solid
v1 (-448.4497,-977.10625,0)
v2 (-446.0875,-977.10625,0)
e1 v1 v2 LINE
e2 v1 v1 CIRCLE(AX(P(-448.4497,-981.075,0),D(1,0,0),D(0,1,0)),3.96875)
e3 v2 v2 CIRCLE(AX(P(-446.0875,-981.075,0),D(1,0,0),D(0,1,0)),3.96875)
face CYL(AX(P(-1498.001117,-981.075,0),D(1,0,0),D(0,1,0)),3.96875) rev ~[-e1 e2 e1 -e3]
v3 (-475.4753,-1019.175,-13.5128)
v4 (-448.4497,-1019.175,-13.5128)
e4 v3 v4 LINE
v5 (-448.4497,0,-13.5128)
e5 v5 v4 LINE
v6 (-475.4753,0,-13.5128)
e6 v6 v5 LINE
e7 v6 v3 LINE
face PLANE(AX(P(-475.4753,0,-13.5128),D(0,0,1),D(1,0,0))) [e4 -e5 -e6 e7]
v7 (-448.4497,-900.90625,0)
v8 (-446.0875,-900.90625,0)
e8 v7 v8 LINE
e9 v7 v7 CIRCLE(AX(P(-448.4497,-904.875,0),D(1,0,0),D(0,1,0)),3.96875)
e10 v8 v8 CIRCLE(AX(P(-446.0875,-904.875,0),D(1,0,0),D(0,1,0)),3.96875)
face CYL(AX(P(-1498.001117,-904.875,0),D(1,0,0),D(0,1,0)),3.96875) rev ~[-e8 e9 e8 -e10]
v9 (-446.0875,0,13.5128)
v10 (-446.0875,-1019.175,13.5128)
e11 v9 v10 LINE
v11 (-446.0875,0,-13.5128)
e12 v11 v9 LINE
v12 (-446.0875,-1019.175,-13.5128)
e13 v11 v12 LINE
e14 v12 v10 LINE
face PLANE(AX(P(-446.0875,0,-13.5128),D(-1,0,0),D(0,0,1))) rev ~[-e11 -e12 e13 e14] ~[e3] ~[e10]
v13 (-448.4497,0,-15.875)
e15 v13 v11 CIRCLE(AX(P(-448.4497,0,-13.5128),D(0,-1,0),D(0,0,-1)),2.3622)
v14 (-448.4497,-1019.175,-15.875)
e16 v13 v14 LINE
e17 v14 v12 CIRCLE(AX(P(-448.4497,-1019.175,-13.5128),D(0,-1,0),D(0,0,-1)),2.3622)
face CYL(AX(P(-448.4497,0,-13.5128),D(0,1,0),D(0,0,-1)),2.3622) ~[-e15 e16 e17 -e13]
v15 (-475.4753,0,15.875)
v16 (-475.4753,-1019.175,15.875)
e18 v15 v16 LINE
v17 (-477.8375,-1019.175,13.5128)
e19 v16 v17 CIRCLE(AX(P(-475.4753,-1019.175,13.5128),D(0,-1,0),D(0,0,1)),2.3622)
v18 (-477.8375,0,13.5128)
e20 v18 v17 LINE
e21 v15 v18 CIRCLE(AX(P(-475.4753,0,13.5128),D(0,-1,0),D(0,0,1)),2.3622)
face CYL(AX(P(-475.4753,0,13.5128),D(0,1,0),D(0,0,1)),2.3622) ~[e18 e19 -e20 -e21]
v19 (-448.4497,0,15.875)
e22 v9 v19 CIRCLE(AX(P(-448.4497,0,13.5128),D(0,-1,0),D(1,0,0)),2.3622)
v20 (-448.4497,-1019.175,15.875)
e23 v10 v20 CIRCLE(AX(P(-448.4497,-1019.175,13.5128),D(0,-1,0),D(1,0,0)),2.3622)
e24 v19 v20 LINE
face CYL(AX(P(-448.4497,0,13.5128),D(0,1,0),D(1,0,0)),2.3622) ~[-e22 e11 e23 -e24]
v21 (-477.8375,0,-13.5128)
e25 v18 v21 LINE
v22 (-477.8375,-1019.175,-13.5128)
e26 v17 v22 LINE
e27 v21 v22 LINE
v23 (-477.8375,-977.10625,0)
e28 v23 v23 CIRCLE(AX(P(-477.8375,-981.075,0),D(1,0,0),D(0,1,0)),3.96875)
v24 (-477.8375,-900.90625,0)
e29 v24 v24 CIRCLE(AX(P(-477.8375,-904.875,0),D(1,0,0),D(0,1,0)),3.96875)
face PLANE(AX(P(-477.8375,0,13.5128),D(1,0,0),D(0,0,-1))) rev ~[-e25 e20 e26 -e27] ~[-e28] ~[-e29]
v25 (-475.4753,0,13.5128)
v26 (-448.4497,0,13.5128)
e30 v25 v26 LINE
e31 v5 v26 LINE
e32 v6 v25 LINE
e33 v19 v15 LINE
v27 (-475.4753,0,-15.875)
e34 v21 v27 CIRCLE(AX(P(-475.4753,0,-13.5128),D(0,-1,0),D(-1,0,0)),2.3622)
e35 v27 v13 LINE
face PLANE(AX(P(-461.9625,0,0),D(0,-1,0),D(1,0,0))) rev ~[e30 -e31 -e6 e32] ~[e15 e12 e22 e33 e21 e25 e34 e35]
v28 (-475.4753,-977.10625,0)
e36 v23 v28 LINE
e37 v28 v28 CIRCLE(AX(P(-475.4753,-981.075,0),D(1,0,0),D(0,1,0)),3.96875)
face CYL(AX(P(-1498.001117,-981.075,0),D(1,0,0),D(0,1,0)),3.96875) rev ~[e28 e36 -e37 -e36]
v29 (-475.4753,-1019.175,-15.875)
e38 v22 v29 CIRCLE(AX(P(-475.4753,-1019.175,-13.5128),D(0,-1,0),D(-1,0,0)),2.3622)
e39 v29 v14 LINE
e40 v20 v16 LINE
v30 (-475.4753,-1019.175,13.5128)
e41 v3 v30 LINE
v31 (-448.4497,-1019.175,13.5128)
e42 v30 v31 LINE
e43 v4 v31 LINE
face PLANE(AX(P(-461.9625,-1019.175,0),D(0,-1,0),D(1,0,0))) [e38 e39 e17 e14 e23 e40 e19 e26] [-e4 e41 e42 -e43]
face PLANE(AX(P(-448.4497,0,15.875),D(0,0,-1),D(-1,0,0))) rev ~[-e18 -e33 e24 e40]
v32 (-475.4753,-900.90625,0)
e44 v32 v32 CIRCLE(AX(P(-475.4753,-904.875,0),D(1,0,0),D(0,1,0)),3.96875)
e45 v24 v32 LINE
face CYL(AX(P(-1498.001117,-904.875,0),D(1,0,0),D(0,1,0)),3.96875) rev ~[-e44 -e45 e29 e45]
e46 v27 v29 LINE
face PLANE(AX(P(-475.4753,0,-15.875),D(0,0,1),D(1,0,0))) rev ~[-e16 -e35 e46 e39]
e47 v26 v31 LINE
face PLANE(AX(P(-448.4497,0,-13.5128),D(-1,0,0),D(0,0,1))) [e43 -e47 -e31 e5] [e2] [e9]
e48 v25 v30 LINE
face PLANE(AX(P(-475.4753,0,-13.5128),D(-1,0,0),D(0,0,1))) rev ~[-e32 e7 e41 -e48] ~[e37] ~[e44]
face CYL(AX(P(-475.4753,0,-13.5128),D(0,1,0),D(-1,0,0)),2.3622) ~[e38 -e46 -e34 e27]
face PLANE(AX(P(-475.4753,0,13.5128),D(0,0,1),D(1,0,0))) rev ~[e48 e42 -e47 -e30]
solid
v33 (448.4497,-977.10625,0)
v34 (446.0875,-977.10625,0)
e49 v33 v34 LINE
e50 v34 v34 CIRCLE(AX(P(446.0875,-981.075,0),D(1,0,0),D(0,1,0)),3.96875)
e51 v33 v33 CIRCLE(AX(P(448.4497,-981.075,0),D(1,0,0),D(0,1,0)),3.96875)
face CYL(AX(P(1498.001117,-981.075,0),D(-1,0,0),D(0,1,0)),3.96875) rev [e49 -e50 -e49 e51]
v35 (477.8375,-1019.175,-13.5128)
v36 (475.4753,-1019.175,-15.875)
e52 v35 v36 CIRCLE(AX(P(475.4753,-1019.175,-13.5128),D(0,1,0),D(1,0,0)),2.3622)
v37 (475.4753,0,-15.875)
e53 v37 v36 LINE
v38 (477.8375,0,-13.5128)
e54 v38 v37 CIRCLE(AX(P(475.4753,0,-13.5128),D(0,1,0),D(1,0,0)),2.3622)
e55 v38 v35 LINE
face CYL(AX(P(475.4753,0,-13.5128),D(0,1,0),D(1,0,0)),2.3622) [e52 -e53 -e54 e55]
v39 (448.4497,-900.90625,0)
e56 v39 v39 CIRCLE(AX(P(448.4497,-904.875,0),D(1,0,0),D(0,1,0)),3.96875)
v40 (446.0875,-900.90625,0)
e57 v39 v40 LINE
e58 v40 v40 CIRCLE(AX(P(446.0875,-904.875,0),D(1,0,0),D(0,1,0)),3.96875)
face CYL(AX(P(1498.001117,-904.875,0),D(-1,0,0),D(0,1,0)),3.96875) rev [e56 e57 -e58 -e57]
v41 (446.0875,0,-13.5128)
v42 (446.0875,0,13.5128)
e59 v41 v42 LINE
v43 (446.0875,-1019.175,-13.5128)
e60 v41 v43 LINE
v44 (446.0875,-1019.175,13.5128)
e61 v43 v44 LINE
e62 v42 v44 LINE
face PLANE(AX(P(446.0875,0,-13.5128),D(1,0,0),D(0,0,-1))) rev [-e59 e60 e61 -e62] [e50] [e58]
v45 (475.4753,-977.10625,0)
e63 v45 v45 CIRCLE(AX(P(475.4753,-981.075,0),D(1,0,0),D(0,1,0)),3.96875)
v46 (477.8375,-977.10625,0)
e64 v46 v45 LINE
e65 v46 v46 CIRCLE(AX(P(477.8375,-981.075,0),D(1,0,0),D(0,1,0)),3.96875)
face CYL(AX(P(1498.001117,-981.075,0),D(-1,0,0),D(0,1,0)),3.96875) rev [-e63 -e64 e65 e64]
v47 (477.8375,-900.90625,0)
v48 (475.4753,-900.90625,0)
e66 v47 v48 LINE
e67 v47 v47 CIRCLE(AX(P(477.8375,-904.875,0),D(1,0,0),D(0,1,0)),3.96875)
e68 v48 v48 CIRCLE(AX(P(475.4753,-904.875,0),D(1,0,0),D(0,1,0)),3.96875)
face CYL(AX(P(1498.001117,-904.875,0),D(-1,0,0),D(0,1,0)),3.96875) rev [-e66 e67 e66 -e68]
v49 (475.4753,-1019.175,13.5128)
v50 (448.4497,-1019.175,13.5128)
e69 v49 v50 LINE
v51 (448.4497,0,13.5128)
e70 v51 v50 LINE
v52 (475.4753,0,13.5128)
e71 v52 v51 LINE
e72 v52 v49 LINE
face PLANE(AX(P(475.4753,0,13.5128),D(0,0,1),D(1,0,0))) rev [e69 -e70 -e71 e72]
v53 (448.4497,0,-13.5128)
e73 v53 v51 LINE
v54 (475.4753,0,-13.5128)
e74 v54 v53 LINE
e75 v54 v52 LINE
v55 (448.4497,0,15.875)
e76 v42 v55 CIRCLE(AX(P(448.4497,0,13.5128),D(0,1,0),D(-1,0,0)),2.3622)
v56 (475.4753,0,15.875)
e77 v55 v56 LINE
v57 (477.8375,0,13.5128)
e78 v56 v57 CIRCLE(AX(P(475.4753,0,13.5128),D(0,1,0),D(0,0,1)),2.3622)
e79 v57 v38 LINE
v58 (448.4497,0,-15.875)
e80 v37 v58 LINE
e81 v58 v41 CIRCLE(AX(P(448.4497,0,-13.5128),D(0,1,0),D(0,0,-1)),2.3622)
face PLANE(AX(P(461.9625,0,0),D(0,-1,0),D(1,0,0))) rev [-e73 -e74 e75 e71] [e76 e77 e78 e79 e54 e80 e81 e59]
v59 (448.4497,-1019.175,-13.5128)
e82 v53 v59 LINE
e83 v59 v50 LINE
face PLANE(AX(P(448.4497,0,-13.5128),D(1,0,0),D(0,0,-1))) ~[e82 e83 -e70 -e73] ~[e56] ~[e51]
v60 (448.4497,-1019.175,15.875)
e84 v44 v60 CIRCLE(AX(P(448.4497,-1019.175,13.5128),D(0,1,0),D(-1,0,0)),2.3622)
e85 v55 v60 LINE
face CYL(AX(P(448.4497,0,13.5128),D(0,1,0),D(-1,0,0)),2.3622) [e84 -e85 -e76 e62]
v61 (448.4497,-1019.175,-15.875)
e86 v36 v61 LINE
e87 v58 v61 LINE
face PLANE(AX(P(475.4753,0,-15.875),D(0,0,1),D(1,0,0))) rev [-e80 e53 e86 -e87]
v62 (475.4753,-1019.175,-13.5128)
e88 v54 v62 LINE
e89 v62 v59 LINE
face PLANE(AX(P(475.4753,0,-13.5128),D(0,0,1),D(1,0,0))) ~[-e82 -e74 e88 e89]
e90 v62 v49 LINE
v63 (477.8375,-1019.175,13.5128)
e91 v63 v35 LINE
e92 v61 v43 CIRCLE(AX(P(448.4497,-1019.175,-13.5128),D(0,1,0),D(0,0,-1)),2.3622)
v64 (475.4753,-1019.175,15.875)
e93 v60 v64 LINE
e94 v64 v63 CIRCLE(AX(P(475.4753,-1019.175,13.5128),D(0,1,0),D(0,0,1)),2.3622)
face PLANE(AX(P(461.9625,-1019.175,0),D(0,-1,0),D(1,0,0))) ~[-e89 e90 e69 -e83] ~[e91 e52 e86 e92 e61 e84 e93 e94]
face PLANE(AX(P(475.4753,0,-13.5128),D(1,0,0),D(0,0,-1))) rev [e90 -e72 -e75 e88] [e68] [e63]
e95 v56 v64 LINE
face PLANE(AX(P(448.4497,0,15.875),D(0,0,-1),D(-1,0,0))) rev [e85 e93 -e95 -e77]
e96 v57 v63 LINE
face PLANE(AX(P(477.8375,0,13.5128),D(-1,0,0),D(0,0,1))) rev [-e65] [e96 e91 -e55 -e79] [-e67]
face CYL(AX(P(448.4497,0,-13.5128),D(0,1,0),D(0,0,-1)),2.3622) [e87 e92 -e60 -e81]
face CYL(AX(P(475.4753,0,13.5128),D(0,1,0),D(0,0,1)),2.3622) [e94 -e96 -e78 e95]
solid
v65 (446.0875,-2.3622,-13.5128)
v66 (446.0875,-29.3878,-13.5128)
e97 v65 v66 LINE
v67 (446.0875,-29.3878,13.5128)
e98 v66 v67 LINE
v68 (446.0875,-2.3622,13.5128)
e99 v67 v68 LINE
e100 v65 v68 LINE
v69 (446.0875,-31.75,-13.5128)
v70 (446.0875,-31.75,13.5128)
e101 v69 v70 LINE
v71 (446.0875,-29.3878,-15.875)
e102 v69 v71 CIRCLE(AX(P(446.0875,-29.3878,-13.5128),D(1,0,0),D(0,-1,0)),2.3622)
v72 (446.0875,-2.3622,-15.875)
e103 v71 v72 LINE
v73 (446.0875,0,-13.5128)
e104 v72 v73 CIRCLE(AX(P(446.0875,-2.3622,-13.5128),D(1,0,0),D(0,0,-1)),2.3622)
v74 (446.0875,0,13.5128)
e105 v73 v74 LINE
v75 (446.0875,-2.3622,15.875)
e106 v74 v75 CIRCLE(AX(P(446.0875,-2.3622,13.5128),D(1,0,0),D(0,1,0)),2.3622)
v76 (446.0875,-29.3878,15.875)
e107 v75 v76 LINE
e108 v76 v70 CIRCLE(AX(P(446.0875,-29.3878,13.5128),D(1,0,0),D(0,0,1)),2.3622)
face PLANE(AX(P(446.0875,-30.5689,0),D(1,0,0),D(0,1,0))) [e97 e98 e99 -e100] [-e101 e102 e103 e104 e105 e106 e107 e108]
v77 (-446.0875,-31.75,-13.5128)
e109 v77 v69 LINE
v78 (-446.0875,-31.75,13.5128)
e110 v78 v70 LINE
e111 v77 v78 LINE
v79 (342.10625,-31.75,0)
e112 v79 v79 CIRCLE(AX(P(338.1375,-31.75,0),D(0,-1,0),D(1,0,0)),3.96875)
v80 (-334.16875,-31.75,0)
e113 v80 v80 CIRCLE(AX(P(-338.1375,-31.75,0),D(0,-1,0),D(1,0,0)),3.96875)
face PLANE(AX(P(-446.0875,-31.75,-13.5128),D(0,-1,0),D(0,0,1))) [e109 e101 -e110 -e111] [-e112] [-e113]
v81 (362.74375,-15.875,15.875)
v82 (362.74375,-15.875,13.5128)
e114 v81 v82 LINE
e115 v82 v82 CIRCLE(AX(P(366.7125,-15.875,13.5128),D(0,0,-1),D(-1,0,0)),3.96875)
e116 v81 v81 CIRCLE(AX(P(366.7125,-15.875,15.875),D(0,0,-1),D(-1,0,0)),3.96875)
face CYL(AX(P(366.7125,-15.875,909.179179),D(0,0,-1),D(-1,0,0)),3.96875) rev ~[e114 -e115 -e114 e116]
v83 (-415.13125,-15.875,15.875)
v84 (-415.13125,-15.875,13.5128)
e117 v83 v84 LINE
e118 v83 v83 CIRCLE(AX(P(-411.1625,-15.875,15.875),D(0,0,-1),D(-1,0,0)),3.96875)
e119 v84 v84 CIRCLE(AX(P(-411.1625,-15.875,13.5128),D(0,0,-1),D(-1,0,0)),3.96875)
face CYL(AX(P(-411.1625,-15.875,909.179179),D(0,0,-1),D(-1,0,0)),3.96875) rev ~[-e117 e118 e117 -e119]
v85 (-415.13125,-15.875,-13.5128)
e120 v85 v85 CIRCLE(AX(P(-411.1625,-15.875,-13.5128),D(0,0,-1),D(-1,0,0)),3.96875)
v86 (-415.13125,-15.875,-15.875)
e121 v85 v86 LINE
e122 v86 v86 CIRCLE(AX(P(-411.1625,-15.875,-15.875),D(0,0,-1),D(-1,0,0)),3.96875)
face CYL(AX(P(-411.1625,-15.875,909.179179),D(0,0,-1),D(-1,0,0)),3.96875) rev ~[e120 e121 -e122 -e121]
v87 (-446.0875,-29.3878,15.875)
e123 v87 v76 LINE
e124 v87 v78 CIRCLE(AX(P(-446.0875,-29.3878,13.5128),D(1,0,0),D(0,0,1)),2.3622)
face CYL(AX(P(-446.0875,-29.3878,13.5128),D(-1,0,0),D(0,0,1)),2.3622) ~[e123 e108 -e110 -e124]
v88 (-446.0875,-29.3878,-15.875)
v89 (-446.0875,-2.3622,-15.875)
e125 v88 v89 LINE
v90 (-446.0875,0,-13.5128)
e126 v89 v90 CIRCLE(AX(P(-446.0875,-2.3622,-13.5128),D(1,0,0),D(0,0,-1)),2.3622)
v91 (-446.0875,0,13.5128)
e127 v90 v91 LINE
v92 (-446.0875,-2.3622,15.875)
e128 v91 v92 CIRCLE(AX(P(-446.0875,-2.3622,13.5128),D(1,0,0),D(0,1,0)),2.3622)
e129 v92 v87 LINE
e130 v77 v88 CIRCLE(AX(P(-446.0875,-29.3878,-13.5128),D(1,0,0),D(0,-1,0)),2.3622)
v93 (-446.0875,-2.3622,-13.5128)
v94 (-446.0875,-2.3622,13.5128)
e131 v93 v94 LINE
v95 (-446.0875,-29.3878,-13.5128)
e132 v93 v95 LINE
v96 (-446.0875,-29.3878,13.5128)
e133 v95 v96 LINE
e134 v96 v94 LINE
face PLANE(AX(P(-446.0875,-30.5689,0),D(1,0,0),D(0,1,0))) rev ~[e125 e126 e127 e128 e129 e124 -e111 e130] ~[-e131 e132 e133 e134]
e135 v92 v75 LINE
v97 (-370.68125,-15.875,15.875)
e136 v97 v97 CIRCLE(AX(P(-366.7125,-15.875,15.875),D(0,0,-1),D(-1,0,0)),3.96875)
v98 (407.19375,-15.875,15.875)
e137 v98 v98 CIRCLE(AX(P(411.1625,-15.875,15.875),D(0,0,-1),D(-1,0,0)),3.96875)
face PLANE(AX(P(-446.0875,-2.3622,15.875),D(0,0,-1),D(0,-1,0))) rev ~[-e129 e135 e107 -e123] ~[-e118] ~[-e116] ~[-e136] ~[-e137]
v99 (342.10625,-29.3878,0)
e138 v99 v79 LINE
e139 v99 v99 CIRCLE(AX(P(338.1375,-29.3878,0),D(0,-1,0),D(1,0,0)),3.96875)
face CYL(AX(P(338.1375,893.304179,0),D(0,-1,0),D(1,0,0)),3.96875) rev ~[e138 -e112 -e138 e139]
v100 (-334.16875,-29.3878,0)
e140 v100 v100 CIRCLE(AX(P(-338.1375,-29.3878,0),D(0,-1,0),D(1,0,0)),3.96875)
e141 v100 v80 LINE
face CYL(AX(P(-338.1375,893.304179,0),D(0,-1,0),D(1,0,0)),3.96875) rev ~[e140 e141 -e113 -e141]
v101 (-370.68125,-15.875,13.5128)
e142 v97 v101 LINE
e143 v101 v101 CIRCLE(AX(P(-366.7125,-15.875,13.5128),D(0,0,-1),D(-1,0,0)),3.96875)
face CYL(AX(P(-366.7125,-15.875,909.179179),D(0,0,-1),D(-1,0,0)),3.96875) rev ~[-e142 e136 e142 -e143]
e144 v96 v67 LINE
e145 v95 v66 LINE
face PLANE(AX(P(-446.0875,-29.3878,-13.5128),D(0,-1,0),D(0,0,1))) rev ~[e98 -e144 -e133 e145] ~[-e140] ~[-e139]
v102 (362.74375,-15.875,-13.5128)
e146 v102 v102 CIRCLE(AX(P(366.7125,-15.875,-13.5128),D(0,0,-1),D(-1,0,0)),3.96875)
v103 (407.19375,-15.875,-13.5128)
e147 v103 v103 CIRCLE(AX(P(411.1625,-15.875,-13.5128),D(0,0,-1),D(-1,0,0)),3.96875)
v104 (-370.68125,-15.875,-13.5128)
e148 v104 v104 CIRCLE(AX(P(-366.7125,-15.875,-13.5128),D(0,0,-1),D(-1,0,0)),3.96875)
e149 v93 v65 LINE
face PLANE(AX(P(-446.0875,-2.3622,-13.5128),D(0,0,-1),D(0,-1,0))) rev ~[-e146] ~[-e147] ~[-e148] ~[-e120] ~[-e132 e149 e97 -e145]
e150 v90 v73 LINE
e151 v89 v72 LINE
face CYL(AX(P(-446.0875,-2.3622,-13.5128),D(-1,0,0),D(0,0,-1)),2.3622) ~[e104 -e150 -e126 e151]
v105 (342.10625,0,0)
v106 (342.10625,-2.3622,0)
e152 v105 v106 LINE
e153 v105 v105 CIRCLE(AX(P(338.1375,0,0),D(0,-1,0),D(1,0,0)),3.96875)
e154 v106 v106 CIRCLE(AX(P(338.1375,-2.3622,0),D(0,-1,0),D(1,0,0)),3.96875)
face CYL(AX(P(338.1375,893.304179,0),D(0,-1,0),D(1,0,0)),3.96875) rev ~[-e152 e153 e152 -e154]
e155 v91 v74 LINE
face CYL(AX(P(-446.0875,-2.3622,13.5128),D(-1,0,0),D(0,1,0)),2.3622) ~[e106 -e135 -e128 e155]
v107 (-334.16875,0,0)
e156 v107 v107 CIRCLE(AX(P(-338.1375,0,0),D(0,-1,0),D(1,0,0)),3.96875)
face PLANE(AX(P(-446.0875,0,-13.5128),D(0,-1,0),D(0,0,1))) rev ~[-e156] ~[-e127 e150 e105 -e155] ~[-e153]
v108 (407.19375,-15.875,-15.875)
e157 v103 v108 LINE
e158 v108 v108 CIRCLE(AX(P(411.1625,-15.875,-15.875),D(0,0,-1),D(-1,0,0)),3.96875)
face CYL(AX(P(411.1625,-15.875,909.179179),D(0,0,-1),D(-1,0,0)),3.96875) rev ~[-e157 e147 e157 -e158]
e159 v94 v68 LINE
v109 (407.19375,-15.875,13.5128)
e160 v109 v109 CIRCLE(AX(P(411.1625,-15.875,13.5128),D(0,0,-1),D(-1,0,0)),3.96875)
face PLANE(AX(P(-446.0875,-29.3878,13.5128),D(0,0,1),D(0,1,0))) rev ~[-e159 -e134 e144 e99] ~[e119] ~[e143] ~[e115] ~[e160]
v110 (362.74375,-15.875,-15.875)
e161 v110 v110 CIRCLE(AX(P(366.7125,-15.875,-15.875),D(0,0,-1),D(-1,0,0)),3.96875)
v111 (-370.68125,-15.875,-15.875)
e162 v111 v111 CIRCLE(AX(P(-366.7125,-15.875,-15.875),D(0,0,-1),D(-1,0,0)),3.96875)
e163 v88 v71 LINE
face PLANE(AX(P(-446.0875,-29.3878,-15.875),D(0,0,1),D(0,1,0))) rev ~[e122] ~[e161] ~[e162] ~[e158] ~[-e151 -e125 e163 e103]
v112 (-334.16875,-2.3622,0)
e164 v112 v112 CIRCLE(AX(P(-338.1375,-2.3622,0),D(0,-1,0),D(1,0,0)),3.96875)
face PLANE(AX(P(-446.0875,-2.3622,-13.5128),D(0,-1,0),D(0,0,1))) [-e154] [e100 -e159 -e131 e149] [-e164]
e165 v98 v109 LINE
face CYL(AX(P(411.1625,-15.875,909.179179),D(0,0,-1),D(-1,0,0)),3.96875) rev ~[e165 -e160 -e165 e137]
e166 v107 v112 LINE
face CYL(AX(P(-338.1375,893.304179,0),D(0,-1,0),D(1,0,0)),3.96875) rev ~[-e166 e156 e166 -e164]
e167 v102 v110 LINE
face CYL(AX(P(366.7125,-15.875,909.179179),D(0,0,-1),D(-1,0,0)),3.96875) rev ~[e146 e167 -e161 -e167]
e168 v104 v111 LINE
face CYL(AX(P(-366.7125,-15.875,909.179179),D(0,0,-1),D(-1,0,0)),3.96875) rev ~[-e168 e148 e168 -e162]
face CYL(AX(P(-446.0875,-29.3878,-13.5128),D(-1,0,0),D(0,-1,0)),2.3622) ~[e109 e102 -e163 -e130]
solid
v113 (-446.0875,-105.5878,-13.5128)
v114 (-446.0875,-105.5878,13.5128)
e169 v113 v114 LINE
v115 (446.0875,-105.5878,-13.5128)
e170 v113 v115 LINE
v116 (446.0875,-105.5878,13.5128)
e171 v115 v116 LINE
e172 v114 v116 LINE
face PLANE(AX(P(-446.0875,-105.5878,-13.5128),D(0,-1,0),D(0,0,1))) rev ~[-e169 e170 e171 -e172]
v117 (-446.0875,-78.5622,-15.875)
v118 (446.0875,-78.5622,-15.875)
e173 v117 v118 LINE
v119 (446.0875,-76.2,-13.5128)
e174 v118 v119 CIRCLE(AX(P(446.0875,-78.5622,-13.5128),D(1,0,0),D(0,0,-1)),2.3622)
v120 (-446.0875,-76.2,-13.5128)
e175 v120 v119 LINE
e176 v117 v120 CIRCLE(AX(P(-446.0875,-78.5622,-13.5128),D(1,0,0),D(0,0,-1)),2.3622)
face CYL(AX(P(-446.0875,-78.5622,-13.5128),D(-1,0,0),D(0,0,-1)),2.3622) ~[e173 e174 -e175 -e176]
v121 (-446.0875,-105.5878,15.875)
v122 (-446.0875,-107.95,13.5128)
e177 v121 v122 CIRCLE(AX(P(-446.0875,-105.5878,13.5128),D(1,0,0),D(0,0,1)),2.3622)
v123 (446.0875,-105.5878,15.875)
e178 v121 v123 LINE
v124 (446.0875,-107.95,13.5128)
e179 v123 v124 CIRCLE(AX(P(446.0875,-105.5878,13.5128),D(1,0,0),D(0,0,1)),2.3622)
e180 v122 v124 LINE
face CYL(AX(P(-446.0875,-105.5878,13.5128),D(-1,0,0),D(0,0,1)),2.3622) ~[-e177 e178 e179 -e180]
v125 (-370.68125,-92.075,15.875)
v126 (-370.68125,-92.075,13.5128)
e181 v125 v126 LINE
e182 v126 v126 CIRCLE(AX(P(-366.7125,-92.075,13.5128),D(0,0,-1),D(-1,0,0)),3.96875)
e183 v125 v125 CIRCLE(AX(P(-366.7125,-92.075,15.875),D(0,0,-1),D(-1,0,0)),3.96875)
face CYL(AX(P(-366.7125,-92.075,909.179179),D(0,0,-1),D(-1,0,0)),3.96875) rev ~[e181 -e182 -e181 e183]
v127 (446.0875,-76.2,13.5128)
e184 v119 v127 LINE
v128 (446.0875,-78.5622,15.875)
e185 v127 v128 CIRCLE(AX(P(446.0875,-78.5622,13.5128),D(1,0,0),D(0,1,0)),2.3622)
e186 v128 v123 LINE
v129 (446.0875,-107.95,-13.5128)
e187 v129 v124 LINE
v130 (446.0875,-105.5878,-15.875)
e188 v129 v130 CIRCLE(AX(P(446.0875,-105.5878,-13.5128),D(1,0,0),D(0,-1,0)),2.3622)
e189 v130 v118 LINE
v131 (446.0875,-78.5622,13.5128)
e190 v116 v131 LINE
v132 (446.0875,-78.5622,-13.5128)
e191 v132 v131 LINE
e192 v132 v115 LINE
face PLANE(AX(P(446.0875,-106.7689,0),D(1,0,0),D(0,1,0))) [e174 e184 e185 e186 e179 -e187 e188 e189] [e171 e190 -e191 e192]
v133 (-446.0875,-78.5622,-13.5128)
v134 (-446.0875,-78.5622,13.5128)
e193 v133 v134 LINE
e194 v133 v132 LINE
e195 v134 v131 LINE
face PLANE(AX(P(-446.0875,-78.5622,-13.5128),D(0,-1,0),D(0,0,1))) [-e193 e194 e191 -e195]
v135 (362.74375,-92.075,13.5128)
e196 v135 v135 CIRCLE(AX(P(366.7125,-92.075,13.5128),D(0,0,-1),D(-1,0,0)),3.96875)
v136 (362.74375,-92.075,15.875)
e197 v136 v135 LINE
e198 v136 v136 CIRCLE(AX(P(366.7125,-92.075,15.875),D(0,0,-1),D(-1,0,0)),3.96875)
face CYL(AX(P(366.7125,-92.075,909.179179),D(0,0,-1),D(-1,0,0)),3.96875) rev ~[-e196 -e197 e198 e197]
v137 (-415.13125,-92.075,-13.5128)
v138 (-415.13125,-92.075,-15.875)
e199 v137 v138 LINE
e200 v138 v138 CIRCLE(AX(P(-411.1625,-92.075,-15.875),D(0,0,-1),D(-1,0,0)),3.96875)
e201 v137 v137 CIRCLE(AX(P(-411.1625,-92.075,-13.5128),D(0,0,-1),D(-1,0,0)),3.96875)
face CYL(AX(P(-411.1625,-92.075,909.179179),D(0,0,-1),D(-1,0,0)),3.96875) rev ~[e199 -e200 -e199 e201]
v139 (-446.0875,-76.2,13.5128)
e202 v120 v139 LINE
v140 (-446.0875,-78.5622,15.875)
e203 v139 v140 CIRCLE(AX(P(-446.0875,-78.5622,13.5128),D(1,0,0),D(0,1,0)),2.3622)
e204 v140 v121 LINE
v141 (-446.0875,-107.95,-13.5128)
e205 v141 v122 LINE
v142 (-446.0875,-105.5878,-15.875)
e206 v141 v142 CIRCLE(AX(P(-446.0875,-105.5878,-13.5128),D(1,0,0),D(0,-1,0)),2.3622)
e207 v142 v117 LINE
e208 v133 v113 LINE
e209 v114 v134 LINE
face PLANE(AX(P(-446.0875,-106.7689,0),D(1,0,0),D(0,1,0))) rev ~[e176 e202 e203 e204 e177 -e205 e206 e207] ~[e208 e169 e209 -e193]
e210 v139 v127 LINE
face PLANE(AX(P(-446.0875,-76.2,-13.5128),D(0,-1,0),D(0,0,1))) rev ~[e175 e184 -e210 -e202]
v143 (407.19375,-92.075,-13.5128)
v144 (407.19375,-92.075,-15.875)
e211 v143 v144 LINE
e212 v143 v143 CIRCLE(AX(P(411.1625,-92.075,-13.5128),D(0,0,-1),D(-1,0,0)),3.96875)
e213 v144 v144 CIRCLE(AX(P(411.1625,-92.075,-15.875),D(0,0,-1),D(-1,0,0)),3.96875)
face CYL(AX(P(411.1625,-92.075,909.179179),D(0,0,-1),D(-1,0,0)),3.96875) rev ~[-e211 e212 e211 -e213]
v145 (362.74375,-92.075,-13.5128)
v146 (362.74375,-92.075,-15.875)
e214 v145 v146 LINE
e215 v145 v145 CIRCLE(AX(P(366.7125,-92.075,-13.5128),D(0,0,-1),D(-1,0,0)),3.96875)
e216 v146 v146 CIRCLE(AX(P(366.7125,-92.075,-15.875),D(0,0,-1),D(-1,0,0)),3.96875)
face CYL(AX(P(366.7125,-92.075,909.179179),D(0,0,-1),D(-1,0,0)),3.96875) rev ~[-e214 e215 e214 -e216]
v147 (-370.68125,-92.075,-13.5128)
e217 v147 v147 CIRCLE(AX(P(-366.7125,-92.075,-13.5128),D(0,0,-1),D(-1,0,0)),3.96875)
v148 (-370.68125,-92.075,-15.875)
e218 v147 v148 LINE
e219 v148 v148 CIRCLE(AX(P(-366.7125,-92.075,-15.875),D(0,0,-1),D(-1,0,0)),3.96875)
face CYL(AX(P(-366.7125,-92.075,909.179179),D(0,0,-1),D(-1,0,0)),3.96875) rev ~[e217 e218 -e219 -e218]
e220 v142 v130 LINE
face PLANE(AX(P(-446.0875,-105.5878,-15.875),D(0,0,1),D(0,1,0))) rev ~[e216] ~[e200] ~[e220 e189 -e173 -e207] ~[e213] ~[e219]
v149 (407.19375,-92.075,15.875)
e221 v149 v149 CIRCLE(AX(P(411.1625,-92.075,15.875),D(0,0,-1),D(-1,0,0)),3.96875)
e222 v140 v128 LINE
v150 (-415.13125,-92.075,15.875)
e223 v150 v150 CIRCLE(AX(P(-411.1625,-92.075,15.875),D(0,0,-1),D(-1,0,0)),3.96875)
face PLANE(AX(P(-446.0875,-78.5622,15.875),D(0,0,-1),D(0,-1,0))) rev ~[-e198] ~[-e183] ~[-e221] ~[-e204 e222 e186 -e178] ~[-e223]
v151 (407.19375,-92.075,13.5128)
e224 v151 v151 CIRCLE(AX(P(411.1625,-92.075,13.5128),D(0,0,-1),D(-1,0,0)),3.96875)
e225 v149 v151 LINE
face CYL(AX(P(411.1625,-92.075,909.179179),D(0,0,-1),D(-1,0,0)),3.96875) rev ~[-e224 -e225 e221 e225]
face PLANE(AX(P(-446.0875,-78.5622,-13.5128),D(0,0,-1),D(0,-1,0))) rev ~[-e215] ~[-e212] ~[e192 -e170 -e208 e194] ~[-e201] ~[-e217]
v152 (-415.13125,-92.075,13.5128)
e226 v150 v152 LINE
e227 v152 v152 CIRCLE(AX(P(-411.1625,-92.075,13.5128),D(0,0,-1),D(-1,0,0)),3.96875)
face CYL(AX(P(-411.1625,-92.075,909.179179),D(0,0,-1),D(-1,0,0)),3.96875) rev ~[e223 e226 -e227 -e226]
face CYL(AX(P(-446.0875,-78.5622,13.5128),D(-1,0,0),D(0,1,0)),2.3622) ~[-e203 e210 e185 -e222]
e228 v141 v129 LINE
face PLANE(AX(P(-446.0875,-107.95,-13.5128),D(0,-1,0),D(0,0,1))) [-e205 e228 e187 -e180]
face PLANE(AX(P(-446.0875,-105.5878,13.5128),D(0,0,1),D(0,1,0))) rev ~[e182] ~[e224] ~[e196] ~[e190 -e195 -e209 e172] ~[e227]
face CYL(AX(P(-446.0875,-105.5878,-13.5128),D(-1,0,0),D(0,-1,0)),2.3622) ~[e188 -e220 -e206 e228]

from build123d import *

# Parameters (mm, degrees)
F0_W     = 27.0256
F0_H     = 27.0256
F1_DEPTH = 1019.175
F2_W     = 2.3622
F2_H     = 27.0256
F3_DEPTH = 892.175
F5_D     = 7.9375
F8_D     = 7.9375
F10_D    = 7.9375
F12_D    = 7.9375
F14_D    = 7.9375


with BuildPart() as f1:
    # F0 (on Front) → F1 (new body)
    with BuildSketch(Plane.XZ):
        with BuildLine():
            Line((-475.4753, -15.875), (-448.4497, -15.875))
            ThreePointArc((-448.4497, -15.875), (-446.7793723615, -15.1831276385), (-446.0875, -13.5128))
            Line((-446.0875, -13.5128), (-446.0875, 13.5128))
            ThreePointArc((-446.0875, 13.5128), (-446.7793723615, 15.1831276385), (-448.4497, 15.875))
            Line((-448.4497, 15.875), (-475.4753, 15.875))
            ThreePointArc((-475.4753, 15.875), (-477.1456276385, 15.1831276385), (-477.8375, 13.5128))
            Line((-477.8375, 13.5128), (-477.8375, -13.5128))
            ThreePointArc((-477.8375, -13.5128), (-477.1456276385, -15.1831276385), (-475.4753, -15.875))
        make_face()
        with Locations((-461.9625, 0)):
            Rectangle(F0_W, F0_H, mode=Mode.SUBTRACT)
    extrude(amount=F1_DEPTH)

    # F5 (through all)
    with Locations(Plane(origin=(-477.8375, 0, 0), x_dir=(0, -1, 0), z_dir=(-1, 0, 0))):
        with Locations((981.075, 0), (904.875, 0)):
            Hole(F5_D / 2)


with BuildPart() as f3:
    # F2 (on face) → F3 (new body)
    with BuildSketch(Plane.YZ.offset(-446.0875)):
        with Locations((-106.7689, 0)):
            Rectangle(F2_W, F2_H)
        with BuildLine():
            Line((-78.5622, 13.5128), (-76.2, 13.5128))
            ThreePointArc((-76.2, 13.5128), (-76.8918723615, 15.1831276385), (-78.5622, 15.875))
            Line((-78.5622, 15.875), (-105.5878, 15.875))
            ThreePointArc((-105.5878, 15.875), (-107.2581276385, 15.1831276385), (-107.95, 13.5128))
            Line((-107.95, 13.5128), (-105.5878, 13.5128))
            Line((-105.5878, 13.5128), (-78.5622, 13.5128))
        make_face()
        with Locations((-77.3811, 0)):
            Rectangle(F2_W, F2_H)
        with BuildLine():
            ThreePointArc((-78.5622, -15.875), (-76.8918723615, -15.1831276385), (-76.2, -13.5128))
            Line((-76.2, -13.5128), (-78.5622, -13.5128))
            Line((-78.5622, -13.5128), (-105.5878, -13.5128))
            Line((-105.5878, -13.5128), (-107.95, -13.5128))
            ThreePointArc((-107.95, -13.5128), (-107.2581276385, -15.1831276385), (-105.5878, -15.875))
            Line((-105.5878, -15.875), (-78.5622, -15.875))
        make_face()
    extrude(amount=F3_DEPTH)

    # F12 (through all)
    with Locations(Plane.XY.offset(15.875)):
        with Locations((411.1625, -92.075), (366.7125, -92.075), (-366.7125, -92.075), (-411.1625, -92.075)):
            Hole(F12_D / 2)


with BuildPart() as f3b:
    # F2 (on face) → F3, piece 2 (new body)
    with BuildSketch(Plane.YZ.offset(-446.0875)):
        with Locations((-30.5689, 0)):
            Rectangle(F2_W, F2_H)
        with BuildLine():
            Line((-2.3622, 13.5128), (0, 13.5128))
            ThreePointArc((0, 13.5128), (-0.6918723615, 15.1831276385), (-2.3622, 15.875))
            Line((-2.3622, 15.875), (-29.3878, 15.875))
            ThreePointArc((-29.3878, 15.875), (-31.0581276385, 15.1831276385), (-31.75, 13.5128))
            Line((-31.75, 13.5128), (-29.3878, 13.5128))
            Line((-29.3878, 13.5128), (-2.3622, 13.5128))
        make_face()
        with Locations((-1.1811, 0)):
            Rectangle(F2_W, F2_H)
        with BuildLine():
            Line((-29.3878, -15.875), (-2.3622, -15.875))
            ThreePointArc((-2.3622, -15.875), (-0.6918723615, -15.1831276385), (0, -13.5128))
            Line((0, -13.5128), (-2.3622, -13.5128))
            Line((-2.3622, -13.5128), (-29.3878, -13.5128))
            Line((-29.3878, -13.5128), (-31.75, -13.5128))
            ThreePointArc((-31.75, -13.5128), (-31.0581276385, -15.1831276385), (-29.3878, -15.875))
        make_face()
    extrude(amount=F3_DEPTH)

    # F8 (through all)
    with Locations(Plane(origin=(0, 0, 0), x_dir=(-1, 0, 0), z_dir=(0, 1, 0))):
        with Locations((338.1375, 0)):
            Hole(F8_D / 2)

    # F10 (through all)
    with Locations(Plane(origin=(0, 0, 0), x_dir=(-1, 0, 0), z_dir=(0, 1, 0))):
        with Locations((-338.1375, 0)):
            Hole(F10_D / 2)

    # F14 (through all)
    with Locations(Plane.XY.offset(15.875)):
        with Locations((411.1625, -15.875), (366.7125, -15.875), (-366.7125, -15.875), (-411.1625, -15.875)):
            Hole(F14_D / 2)


with BuildPart() as f6_1:
    # F6: instance of F1
    add(f1.part.mirror(Plane.YZ))


solid = Compound([f1.part, f3.part, f3b.part, f6_1.part])
